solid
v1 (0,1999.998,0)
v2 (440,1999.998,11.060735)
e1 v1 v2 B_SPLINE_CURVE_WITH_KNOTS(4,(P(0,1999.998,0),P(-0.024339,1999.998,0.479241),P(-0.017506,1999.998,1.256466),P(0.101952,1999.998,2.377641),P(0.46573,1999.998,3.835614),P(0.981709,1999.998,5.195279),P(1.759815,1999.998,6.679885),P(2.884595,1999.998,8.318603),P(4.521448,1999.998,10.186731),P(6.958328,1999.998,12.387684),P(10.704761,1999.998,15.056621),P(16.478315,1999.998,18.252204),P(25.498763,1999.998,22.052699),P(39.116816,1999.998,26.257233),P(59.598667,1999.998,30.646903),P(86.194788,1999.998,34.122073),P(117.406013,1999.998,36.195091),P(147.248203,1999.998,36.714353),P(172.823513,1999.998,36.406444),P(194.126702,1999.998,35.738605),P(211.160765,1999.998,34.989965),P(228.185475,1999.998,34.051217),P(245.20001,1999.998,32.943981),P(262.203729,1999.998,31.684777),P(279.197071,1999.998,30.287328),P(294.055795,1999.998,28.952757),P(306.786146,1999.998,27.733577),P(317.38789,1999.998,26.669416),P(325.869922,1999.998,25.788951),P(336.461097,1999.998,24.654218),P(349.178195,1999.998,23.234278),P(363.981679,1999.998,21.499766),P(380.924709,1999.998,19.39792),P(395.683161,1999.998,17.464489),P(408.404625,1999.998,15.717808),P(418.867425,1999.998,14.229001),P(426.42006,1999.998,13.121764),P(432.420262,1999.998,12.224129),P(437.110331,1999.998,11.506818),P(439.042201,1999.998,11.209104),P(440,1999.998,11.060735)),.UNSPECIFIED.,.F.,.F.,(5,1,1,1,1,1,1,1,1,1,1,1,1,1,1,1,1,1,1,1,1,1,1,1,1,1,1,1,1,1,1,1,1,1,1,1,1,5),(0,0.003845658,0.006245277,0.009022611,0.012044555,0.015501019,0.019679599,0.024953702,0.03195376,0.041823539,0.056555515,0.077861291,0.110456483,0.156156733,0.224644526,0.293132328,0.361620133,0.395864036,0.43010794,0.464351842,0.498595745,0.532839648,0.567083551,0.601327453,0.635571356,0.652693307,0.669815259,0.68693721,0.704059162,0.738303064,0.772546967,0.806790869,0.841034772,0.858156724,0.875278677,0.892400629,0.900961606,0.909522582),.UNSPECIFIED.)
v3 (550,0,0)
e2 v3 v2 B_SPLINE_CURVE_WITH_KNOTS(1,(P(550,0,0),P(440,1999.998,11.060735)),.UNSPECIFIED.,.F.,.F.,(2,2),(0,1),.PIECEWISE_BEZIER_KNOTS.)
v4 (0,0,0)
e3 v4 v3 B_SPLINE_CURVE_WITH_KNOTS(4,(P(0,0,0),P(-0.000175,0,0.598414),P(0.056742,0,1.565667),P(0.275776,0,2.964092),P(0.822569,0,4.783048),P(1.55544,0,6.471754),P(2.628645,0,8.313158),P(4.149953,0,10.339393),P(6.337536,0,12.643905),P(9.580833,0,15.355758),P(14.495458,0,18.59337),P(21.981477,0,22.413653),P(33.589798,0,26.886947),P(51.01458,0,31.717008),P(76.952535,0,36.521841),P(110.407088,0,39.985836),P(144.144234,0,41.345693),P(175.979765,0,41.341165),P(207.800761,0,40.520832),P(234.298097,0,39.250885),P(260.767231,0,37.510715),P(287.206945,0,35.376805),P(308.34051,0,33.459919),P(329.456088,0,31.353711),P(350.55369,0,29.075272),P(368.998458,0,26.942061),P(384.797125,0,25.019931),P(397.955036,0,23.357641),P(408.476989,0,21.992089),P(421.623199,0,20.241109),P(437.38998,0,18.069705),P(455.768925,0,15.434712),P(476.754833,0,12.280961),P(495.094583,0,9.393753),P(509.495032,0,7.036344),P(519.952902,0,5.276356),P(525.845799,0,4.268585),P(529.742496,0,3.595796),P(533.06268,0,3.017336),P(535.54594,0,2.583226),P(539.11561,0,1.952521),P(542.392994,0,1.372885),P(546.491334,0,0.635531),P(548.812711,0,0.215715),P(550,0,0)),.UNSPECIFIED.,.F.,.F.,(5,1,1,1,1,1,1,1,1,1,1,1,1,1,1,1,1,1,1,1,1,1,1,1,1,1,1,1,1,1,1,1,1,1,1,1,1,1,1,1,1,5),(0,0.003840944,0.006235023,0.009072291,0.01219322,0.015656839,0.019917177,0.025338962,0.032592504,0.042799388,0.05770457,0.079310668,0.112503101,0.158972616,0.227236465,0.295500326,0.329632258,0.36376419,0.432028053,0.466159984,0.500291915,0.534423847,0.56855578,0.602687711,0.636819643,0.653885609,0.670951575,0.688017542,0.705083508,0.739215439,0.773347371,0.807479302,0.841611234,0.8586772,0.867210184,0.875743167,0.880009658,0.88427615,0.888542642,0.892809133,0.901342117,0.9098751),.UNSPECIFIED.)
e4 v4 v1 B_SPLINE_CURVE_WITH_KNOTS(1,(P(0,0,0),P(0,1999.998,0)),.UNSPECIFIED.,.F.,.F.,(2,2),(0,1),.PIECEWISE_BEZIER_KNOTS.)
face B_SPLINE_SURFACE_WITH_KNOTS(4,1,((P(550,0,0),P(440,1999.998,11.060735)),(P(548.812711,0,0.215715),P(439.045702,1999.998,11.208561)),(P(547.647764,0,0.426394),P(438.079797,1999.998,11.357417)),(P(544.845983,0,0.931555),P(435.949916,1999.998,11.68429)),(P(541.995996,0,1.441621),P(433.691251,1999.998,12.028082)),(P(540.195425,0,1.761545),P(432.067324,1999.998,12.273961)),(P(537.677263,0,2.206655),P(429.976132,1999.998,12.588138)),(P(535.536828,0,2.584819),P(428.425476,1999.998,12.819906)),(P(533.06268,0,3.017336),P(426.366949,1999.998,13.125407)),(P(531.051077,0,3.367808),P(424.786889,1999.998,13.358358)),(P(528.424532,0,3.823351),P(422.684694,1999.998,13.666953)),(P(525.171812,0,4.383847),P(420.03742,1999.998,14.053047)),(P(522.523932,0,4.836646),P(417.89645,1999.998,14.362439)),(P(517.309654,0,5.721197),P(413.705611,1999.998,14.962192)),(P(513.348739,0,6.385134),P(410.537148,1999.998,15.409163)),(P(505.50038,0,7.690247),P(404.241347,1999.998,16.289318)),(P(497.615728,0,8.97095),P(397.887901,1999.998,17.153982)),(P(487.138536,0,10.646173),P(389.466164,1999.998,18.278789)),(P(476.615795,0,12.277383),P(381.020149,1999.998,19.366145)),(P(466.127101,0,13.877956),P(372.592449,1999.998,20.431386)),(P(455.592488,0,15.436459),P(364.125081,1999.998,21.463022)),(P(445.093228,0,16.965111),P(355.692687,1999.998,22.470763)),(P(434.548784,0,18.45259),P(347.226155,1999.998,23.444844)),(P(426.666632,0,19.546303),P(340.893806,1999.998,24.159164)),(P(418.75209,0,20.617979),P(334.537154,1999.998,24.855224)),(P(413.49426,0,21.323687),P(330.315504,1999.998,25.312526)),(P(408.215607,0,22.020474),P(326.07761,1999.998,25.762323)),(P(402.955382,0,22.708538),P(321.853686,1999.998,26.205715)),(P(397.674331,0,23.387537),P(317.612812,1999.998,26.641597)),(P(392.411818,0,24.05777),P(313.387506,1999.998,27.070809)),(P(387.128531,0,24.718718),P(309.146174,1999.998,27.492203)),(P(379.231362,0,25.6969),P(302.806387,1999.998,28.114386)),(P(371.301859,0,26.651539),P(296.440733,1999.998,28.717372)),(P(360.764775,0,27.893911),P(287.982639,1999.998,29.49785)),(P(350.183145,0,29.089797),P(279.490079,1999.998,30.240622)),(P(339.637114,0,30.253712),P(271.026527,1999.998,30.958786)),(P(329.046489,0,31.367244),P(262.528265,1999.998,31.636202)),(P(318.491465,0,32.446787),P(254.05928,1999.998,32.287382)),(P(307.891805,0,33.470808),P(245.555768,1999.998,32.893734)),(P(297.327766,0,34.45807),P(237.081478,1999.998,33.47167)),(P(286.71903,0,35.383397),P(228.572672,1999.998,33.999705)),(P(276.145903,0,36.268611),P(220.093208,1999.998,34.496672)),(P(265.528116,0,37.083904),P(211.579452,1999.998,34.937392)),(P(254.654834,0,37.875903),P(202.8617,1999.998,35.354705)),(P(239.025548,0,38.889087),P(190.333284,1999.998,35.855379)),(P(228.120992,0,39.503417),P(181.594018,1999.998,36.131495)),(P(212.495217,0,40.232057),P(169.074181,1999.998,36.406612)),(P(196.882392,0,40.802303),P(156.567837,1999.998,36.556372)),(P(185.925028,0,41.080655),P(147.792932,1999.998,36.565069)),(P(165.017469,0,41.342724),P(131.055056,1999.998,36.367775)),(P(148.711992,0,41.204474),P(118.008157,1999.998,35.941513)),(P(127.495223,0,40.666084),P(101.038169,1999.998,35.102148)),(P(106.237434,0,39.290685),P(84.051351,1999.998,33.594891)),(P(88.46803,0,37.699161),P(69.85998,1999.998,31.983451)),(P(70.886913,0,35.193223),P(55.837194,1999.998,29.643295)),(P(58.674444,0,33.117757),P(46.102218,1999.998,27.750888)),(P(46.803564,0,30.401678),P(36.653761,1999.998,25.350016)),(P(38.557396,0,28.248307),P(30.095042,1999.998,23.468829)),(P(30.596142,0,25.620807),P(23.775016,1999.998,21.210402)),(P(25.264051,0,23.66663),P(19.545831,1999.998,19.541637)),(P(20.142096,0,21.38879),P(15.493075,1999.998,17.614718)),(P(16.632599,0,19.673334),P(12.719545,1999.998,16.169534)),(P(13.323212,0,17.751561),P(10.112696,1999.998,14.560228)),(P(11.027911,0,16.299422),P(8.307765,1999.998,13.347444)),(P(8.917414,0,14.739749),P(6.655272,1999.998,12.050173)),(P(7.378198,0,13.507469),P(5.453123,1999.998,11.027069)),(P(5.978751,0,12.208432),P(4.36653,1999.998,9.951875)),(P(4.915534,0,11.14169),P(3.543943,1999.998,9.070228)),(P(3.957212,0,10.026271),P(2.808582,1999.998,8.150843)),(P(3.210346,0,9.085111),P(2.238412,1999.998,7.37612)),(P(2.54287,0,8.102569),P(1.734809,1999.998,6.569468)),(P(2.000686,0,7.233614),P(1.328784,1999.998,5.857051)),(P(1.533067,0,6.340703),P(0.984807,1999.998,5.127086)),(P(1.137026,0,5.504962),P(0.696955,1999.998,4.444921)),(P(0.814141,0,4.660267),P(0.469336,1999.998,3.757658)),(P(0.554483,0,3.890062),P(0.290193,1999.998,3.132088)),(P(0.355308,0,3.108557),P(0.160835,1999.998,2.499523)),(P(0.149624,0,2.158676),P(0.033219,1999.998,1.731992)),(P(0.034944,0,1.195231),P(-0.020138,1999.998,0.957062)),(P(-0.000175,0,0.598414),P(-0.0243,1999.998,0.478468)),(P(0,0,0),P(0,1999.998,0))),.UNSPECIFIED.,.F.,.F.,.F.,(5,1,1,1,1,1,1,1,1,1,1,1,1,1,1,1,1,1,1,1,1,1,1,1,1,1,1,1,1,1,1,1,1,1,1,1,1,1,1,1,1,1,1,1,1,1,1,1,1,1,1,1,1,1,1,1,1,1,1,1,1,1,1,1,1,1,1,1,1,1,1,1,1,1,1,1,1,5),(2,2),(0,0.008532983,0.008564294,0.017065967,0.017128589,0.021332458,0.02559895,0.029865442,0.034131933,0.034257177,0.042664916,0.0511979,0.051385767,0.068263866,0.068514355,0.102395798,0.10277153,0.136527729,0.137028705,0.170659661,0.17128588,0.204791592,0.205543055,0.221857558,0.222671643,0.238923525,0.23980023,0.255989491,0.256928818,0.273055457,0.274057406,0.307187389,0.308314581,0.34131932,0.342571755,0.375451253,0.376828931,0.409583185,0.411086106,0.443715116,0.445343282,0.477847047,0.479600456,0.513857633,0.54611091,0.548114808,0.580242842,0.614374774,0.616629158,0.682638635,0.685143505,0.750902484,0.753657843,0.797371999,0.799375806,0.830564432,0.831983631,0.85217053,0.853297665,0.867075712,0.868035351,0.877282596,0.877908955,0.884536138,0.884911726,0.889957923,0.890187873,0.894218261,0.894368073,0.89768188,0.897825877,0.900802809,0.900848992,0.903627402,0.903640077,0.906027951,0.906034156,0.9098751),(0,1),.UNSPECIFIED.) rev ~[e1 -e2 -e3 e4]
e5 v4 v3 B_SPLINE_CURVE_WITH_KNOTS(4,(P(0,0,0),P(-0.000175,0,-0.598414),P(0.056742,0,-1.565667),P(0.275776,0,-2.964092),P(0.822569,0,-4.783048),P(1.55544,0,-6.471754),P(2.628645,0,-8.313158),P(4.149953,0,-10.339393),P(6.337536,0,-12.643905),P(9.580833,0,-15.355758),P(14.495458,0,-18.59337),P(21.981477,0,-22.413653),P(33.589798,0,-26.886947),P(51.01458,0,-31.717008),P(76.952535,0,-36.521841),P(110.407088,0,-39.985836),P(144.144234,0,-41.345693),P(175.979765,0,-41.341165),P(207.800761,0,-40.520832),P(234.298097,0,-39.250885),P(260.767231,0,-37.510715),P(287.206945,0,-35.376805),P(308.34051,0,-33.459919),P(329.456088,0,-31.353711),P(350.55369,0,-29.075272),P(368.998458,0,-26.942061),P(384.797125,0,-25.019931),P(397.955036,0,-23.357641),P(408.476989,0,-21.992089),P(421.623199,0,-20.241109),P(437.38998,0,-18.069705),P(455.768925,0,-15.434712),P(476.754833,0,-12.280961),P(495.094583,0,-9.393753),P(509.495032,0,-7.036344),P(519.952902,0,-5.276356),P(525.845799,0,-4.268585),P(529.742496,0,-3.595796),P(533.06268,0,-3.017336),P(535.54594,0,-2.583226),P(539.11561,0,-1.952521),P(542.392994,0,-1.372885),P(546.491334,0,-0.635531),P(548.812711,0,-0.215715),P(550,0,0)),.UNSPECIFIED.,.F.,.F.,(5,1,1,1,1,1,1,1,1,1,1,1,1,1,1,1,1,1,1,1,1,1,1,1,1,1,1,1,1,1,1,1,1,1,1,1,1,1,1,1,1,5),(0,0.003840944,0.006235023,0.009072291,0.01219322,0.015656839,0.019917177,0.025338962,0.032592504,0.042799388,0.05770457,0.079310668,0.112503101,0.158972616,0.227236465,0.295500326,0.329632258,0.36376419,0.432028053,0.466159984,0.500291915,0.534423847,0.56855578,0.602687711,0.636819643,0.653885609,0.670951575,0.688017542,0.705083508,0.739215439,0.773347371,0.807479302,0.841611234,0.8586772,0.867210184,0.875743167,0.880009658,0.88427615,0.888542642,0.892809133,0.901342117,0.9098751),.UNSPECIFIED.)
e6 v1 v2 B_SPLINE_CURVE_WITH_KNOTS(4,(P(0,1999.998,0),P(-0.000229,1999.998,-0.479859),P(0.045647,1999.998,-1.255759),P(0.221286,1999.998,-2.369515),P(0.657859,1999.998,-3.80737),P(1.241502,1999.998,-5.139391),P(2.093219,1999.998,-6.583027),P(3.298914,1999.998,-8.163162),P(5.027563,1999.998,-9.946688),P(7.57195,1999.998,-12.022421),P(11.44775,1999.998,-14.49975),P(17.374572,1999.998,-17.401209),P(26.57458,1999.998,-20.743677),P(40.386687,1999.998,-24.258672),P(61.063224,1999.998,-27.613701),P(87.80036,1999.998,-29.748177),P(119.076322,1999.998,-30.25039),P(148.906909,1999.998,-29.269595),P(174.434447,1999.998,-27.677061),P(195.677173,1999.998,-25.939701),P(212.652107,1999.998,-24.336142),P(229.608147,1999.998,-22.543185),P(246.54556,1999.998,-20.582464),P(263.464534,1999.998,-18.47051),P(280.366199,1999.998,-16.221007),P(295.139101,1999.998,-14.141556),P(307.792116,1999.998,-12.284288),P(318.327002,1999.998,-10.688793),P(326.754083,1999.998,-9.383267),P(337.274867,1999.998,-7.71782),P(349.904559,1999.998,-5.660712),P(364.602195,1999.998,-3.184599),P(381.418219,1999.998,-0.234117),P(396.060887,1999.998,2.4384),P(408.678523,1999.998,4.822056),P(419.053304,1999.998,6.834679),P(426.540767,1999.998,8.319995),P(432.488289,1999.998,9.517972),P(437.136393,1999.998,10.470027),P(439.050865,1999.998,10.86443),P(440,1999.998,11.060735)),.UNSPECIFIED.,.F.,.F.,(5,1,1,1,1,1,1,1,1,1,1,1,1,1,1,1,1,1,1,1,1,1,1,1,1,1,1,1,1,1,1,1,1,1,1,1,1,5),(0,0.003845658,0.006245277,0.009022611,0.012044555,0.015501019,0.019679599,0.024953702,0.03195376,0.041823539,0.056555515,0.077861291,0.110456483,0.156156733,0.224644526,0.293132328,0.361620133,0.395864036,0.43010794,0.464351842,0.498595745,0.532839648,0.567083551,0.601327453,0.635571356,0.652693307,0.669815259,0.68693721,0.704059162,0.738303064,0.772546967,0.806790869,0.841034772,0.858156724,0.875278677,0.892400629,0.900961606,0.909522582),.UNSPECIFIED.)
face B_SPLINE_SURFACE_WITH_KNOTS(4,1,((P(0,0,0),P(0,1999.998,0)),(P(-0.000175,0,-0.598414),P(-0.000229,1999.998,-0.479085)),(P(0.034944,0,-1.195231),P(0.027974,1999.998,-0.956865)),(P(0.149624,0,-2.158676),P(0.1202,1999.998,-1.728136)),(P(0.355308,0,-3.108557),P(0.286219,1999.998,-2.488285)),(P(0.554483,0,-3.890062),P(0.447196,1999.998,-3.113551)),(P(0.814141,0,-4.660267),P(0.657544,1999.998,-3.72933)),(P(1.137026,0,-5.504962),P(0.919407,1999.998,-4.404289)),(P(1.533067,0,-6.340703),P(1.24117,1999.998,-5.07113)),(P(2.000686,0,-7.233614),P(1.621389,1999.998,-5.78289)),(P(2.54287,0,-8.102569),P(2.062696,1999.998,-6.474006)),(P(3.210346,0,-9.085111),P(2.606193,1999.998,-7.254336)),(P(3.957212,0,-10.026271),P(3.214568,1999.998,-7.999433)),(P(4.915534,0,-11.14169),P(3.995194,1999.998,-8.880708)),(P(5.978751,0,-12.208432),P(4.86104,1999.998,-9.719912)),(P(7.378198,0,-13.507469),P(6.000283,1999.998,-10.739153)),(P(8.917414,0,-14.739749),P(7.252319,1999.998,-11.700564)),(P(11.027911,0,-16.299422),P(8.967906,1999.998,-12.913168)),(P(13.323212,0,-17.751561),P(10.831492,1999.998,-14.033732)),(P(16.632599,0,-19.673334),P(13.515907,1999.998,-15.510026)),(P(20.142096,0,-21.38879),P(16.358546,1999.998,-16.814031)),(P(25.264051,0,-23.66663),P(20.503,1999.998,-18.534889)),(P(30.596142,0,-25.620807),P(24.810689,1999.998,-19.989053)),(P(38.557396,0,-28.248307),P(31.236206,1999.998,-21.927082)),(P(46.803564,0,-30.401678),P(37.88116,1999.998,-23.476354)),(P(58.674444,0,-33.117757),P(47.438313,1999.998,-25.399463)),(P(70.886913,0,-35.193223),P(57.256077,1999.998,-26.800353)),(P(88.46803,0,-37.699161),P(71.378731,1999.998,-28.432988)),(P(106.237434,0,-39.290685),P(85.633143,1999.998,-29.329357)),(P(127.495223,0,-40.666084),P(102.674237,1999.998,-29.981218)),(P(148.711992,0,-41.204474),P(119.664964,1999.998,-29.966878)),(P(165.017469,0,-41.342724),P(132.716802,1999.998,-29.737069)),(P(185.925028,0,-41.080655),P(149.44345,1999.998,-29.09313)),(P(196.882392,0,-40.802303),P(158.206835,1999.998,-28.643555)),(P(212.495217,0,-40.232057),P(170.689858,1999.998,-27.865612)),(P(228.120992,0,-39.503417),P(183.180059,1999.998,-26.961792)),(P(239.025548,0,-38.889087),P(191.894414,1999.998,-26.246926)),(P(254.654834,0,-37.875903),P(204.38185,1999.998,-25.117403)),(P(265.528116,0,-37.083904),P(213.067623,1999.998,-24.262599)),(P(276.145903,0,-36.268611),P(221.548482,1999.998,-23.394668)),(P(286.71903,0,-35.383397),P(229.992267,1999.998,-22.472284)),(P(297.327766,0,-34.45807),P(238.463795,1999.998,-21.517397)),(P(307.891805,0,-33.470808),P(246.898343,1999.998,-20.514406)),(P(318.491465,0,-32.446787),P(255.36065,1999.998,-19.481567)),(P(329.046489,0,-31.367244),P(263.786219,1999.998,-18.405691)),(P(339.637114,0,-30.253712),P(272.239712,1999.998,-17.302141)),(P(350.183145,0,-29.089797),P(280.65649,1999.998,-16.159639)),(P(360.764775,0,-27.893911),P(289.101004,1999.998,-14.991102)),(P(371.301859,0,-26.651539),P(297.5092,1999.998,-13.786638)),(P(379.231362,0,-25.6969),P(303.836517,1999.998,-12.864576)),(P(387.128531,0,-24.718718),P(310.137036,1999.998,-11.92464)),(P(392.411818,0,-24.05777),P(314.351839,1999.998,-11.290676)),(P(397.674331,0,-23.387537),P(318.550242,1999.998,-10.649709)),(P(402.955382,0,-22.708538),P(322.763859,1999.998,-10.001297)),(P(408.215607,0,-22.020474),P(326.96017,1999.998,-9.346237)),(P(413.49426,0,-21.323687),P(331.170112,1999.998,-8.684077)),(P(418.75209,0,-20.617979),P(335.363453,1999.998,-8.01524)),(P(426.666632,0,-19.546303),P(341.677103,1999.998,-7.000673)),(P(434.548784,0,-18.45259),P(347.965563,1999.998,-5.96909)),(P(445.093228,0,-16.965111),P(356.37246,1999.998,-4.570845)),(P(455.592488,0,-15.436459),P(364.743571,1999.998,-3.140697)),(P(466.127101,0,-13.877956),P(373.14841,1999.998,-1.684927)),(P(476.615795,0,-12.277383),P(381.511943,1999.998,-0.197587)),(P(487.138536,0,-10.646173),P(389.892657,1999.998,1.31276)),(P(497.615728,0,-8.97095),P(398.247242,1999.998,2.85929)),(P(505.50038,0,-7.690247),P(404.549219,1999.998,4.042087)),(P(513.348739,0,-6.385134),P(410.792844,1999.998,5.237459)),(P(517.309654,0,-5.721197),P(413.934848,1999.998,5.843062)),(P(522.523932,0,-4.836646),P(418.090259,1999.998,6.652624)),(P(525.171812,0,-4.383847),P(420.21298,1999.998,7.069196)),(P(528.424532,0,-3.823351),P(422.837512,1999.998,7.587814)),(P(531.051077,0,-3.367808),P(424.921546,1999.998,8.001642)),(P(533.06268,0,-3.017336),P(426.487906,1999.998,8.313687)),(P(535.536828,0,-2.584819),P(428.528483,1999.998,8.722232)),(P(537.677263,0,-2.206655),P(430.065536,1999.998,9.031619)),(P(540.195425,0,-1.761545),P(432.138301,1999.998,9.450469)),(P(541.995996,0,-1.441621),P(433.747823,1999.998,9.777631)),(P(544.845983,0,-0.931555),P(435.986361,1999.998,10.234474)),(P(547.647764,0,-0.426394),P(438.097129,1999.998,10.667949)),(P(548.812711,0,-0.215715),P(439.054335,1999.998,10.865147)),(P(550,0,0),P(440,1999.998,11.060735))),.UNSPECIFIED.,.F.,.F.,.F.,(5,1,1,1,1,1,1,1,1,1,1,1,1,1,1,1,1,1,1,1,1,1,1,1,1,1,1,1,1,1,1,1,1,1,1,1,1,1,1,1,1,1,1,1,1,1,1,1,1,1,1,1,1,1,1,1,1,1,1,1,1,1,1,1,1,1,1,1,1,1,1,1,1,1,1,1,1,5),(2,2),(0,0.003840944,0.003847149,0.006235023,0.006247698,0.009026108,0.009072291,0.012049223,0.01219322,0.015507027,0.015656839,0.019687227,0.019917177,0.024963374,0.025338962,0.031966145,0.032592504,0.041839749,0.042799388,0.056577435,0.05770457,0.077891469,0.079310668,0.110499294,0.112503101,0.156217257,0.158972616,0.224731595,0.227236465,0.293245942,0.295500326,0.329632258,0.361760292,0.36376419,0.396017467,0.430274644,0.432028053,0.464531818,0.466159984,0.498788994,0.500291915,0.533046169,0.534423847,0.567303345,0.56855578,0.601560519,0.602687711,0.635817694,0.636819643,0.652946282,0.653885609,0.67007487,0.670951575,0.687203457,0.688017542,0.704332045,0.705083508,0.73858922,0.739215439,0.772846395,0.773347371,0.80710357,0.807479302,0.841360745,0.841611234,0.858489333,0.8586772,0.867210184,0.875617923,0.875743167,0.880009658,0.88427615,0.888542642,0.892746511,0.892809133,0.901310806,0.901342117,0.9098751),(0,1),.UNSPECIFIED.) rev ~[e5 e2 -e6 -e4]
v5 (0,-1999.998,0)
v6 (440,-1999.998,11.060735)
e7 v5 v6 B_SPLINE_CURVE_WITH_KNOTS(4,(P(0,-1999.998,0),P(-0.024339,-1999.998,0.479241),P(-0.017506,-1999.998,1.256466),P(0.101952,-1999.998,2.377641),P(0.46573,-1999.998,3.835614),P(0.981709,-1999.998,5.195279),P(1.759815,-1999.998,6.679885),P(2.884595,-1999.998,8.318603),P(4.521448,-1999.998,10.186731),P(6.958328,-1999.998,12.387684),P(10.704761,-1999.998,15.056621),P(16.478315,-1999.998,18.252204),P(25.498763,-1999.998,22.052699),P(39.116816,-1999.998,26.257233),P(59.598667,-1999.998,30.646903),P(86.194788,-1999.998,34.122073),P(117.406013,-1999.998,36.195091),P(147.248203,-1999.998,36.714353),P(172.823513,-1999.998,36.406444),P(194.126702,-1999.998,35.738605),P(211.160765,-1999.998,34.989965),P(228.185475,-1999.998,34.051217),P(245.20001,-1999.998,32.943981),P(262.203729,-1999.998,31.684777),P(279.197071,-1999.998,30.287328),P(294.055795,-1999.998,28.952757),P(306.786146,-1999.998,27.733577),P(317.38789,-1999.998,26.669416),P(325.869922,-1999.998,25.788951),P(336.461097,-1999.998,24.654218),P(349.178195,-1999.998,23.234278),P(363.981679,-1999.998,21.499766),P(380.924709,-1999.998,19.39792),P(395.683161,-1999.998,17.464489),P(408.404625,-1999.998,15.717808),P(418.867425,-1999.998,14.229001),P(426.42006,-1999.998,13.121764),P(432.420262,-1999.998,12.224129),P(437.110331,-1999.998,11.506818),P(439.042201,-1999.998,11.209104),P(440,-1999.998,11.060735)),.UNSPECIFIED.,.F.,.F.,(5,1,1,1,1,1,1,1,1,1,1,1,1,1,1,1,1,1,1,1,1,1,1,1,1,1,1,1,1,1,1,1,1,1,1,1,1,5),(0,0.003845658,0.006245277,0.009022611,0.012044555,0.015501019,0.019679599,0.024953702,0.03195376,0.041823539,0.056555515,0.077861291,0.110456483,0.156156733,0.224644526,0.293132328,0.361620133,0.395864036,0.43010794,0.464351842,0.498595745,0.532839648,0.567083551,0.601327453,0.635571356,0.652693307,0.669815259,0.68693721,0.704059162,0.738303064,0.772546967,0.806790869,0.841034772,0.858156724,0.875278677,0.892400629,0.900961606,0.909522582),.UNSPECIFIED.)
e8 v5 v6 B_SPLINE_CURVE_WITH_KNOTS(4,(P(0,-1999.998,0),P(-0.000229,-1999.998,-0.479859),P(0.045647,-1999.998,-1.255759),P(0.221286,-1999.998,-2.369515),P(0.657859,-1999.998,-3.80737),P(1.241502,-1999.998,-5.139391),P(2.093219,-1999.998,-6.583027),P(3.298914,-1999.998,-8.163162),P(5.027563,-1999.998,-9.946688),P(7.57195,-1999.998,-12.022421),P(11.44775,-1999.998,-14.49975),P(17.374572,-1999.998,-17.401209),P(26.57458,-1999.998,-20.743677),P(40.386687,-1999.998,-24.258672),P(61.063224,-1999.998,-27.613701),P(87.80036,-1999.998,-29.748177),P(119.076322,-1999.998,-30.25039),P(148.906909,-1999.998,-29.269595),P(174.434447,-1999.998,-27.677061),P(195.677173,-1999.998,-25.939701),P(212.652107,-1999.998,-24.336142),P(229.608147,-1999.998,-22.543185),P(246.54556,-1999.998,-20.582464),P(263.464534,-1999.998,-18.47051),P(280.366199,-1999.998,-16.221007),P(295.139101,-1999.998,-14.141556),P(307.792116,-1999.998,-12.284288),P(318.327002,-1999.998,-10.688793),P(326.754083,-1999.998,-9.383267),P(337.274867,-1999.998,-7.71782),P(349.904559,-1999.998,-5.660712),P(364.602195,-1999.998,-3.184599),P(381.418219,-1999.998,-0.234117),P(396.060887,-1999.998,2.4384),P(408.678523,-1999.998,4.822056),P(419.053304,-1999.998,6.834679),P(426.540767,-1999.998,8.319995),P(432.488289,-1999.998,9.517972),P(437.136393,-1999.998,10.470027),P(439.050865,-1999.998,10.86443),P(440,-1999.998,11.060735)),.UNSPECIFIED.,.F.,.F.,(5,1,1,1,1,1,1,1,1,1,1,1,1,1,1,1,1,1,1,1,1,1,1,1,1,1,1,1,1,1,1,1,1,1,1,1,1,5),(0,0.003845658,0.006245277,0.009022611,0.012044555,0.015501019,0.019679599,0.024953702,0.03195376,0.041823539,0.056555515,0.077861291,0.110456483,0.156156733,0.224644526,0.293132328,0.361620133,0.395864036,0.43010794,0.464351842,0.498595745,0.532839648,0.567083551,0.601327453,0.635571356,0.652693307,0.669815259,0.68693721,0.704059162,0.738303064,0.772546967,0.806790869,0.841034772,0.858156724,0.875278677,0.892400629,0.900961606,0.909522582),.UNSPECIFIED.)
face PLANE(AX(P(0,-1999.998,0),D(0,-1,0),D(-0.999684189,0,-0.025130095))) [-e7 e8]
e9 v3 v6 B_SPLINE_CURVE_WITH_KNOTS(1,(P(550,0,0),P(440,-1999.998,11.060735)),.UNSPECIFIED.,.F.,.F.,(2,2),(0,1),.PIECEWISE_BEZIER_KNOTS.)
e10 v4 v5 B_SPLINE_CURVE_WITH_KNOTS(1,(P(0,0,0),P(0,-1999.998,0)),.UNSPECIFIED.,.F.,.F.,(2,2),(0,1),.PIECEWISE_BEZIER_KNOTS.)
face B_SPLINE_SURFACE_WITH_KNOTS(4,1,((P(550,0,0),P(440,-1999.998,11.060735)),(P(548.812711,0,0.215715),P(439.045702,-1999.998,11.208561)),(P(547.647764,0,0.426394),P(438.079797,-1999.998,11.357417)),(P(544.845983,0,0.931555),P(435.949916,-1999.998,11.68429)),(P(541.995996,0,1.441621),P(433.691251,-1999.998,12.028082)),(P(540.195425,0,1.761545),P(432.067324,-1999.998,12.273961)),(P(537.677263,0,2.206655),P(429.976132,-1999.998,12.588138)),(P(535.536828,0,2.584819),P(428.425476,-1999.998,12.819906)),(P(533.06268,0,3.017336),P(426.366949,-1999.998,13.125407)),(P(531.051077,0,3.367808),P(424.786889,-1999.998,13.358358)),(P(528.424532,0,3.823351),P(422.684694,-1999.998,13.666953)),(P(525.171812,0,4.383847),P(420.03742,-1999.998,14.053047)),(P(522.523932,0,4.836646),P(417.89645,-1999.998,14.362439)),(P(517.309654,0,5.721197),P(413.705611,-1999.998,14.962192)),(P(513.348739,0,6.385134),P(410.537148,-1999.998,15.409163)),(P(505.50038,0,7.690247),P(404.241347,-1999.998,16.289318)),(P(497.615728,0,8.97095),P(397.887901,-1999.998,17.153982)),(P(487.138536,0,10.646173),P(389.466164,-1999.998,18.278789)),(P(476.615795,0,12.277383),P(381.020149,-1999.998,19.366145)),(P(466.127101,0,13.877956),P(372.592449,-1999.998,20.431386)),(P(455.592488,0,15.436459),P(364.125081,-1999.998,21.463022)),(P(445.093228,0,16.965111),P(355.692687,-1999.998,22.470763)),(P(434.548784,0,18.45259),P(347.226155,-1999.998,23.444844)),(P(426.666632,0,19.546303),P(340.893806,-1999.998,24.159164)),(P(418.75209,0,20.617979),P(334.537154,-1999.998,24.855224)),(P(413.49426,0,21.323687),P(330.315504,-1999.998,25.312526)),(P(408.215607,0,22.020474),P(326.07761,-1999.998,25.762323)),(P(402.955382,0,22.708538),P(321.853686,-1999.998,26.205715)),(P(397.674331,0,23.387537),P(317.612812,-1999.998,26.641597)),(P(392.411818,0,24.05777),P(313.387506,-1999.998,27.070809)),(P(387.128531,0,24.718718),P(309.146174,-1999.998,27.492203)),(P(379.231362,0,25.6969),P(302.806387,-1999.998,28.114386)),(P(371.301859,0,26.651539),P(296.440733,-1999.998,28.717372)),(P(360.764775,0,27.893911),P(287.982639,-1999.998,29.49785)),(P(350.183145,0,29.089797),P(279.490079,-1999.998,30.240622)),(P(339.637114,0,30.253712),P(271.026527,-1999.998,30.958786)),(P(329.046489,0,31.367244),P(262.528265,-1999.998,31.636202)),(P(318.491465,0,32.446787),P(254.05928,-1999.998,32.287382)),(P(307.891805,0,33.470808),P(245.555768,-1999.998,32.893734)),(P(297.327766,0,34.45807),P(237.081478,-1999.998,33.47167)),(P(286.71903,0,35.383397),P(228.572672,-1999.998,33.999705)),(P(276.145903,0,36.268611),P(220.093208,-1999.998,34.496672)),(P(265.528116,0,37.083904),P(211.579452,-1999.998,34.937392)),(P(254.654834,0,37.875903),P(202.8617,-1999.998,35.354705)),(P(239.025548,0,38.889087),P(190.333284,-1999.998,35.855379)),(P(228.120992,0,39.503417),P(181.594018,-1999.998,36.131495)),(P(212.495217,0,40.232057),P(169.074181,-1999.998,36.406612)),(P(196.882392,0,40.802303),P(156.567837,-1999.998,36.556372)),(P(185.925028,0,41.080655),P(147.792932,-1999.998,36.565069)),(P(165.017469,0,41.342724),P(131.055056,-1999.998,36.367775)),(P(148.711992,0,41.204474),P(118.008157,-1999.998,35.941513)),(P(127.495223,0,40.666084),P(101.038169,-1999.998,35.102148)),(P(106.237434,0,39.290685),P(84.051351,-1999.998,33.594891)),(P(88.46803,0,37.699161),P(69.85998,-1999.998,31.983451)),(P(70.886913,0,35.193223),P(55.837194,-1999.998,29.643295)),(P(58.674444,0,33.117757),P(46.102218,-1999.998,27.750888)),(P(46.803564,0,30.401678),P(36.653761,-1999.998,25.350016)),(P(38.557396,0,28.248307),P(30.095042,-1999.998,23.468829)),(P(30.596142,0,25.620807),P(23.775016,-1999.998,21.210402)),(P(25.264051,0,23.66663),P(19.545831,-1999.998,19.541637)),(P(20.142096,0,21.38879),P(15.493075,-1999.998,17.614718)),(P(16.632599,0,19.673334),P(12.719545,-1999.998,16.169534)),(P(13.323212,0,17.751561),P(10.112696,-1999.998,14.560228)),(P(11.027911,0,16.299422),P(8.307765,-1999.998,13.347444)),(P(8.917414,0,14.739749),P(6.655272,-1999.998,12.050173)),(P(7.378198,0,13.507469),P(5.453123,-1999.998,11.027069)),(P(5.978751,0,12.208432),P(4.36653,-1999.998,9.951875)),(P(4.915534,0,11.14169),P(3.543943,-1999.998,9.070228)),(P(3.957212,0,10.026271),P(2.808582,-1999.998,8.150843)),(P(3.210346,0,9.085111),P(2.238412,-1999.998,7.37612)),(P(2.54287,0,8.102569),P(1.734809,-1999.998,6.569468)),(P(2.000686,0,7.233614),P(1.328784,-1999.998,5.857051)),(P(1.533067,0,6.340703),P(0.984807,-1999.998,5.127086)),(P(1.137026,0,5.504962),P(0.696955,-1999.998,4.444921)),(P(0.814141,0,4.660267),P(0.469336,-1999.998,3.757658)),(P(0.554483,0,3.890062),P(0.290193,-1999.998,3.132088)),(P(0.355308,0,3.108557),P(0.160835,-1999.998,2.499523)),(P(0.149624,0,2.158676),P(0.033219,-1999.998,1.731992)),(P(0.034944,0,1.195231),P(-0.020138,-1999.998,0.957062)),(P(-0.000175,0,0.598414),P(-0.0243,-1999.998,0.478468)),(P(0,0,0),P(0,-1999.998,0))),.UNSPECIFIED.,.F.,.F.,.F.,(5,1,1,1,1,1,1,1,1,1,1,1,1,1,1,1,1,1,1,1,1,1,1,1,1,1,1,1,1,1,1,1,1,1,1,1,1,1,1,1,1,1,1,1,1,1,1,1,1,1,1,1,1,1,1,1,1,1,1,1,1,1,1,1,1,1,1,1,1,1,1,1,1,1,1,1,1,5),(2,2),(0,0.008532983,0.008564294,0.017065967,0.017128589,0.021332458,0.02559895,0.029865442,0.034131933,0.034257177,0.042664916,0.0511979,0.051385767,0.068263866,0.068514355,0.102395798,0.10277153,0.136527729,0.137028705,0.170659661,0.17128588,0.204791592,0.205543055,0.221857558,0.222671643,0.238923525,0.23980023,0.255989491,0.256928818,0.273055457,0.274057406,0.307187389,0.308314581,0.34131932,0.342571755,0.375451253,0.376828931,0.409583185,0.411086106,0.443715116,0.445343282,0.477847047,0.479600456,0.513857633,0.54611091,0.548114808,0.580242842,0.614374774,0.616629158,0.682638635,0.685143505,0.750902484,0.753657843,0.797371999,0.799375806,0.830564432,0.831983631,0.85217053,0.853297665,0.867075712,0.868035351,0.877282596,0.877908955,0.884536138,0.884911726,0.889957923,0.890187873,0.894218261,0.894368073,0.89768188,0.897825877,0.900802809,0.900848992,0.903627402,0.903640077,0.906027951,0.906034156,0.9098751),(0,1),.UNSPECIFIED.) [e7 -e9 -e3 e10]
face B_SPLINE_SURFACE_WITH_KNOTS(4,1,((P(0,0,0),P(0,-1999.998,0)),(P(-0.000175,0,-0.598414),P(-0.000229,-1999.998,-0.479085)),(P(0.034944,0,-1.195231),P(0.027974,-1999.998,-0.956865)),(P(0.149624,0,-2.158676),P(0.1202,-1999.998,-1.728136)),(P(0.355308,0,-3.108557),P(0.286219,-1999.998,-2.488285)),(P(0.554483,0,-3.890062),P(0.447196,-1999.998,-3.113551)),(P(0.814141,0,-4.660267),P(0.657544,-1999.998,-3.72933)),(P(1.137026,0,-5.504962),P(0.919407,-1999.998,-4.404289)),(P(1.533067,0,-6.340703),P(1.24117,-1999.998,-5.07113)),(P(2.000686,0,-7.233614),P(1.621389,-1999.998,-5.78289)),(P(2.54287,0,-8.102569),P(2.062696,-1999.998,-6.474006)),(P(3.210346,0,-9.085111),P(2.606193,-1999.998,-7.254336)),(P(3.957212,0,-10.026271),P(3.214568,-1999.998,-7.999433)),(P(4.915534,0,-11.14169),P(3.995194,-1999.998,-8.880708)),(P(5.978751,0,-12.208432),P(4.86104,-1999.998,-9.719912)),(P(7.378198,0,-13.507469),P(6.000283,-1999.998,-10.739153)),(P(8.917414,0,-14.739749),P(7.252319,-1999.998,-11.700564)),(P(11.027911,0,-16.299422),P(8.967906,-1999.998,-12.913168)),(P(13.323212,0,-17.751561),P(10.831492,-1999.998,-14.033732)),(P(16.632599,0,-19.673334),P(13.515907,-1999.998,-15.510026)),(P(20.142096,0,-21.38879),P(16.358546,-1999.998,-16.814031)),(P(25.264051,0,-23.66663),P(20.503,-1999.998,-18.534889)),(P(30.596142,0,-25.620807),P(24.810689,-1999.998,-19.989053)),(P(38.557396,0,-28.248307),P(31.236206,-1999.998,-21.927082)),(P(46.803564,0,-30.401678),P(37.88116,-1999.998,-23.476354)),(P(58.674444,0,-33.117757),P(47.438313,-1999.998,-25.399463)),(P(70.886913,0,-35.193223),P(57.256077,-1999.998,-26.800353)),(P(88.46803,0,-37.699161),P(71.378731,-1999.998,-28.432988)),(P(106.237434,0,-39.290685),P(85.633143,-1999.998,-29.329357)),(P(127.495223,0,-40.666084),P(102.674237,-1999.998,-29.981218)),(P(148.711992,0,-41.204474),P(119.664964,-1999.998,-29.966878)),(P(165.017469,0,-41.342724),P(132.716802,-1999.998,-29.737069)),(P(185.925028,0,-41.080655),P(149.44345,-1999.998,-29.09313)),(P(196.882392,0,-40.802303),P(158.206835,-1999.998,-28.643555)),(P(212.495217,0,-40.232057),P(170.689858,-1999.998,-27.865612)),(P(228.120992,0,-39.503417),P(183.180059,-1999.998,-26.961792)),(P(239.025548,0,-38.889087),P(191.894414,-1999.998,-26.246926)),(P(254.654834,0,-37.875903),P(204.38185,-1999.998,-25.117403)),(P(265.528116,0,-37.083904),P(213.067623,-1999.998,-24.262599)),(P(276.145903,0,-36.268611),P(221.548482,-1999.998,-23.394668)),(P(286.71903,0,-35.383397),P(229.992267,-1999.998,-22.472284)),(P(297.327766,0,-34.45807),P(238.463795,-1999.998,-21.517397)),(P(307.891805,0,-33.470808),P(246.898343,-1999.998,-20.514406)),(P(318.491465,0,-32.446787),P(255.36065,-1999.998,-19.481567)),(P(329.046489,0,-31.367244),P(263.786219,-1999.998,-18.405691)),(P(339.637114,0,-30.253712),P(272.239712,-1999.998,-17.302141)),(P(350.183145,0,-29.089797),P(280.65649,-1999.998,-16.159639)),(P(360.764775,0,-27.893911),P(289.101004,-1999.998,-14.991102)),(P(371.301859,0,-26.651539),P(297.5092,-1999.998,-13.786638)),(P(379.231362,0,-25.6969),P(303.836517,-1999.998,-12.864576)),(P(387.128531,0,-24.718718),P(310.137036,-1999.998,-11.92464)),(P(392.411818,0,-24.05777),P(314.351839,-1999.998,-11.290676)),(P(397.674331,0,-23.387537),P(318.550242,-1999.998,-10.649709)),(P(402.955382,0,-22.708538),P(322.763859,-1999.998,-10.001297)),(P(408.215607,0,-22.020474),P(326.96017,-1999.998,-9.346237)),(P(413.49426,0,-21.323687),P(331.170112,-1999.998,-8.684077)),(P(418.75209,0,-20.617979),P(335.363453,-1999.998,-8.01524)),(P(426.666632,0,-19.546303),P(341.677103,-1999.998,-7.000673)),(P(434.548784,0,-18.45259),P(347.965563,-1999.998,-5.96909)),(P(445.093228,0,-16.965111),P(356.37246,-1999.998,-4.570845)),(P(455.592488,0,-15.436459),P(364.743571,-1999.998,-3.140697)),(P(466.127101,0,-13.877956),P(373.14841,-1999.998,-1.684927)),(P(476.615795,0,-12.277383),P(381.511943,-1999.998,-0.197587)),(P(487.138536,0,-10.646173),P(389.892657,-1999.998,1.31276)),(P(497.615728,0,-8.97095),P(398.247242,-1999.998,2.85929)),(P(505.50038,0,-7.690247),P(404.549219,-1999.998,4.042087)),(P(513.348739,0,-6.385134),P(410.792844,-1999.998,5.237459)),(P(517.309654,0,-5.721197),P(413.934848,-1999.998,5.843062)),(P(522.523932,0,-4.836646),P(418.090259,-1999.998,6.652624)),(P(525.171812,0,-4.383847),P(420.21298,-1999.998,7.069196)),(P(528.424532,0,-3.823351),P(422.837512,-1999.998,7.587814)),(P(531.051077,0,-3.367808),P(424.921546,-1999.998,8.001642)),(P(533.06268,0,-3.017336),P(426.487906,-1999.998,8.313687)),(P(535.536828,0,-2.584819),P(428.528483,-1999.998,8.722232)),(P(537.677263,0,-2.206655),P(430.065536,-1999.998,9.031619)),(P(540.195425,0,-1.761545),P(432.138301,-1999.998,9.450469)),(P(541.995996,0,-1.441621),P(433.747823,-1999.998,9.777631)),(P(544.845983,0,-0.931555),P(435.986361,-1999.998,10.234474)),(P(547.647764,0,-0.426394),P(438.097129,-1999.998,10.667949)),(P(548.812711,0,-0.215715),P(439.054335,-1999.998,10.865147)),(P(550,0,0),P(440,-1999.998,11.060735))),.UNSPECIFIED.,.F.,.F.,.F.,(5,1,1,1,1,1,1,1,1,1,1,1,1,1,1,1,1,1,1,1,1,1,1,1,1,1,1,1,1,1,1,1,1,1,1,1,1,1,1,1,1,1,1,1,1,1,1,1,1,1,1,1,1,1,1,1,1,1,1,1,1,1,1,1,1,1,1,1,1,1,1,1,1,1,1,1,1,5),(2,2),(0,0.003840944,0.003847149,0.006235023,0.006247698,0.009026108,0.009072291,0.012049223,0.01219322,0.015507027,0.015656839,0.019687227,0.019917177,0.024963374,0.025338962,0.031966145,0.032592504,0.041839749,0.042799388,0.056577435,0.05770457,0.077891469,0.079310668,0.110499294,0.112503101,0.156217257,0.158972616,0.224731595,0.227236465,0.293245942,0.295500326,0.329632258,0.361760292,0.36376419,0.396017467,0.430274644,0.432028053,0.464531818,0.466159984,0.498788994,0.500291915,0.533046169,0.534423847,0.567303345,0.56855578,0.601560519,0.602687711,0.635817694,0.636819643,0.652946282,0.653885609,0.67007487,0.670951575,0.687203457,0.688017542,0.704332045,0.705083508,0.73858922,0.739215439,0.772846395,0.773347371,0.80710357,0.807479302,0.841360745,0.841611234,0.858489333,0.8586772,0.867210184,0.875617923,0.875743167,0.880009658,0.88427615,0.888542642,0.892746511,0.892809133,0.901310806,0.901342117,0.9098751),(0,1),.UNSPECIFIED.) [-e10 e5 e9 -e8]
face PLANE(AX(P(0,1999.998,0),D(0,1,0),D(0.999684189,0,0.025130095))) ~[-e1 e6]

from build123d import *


with BuildPart() as part:
    # rootSketch → Loft1 section 0
    with BuildSketch(Plane(origin=(0, 0, 0), x_dir=(1, 0, 0), z_dir=(0, 1, 0))):
        with BuildLine():
            add(Edge.make_bspline(
                [(0, 0), (-0.000175064, 0.598414419), (0.05674218, 1.565666705), (0.275775876, 2.964091734), (0.822569463, 4.783047556), (1.555439608, 6.471754067), (2.628644933, 8.313158319), (4.149953111, 10.339392549), (6.337536022, 12.643904837), (9.58083252, 15.355757519), (14.495457526, 18.593370314), (21.981477178, 22.413652887), (33.589797591, 26.886946537), (51.014579668, 31.717007882), (76.952534748, 36.521841199), (110.407088273, 39.985836425), (144.144234157, 41.345693361), (175.979765102, 41.341164519), (207.800761075, 40.520831926), (234.298096736, 39.25088481), (260.767230587, 37.510714556), (287.206944997, 35.37680477), (308.340510089, 33.459919147), (329.456088108, 31.353710721), (350.553689705, 29.075271999), (368.998458414, 26.942061245), (384.797125332, 25.019930558), (397.95503649, 23.357640829), (408.476988762, 21.992088906), (421.623198519, 20.241108533), (437.38998035, 18.06970481), (455.76892534, 15.434711532), (476.754832722, 12.280961423), (495.094583008, 9.393753263), (509.495031881, 7.036344093), (519.952902261, 5.27635633), (525.845799056, 4.268584971), (529.742495971, 3.595795898), (533.062680296, 3.017336431), (535.545940255, 2.58322589), (539.115610217, 1.952521224), (542.392994029, 1.372884855), (546.49133396, 0.635531428), (548.812711406, 0.215715496), (550, 0)],
                knots=[0, 0, 0, 0, 0, 0.003840944, 0.006235023, 0.009072291, 0.01219322, 0.015656839, 0.019917177, 0.025338962, 0.032592504, 0.042799388, 0.05770457, 0.079310668, 0.112503101, 0.158972616, 0.227236465, 0.295500326, 0.329632258, 0.36376419, 0.432028053, 0.466159984, 0.500291915, 0.534423847, 0.56855578, 0.602687711, 0.636819643, 0.653885609, 0.670951575, 0.688017542, 0.705083508, 0.739215439, 0.773347371, 0.807479302, 0.841611234, 0.8586772, 0.867210184, 0.875743167, 0.880009658, 0.88427615, 0.888542642, 0.892809133, 0.901342117, 0.9098751, 0.9098751, 0.9098751, 0.9098751, 0.9098751], degree=4))
            add(Edge.make_bspline(
                [(0, 0), (-0.000175064, -0.598414419), (0.05674218, -1.565666705), (0.275775876, -2.964091734), (0.822569463, -4.783047556), (1.555439608, -6.471754067), (2.628644933, -8.313158319), (4.149953111, -10.339392549), (6.337536022, -12.643904837), (9.58083252, -15.355757519), (14.495457526, -18.593370314), (21.981477178, -22.413652887), (33.589797591, -26.886946537), (51.014579668, -31.717007882), (76.952534748, -36.521841199), (110.407088273, -39.985836425), (144.144234157, -41.345693361), (175.979765102, -41.341164519), (207.800761075, -40.520831926), (234.298096736, -39.25088481), (260.767230587, -37.510714556), (287.206944997, -35.37680477), (308.340510089, -33.459919147), (329.456088108, -31.353710721), (350.553689705, -29.075271999), (368.998458414, -26.942061245), (384.797125332, -25.019930558), (397.95503649, -23.357640829), (408.476988762, -21.992088906), (421.623198519, -20.241108533), (437.38998035, -18.06970481), (455.76892534, -15.434711532), (476.754832722, -12.280961423), (495.094583008, -9.393753263), (509.495031881, -7.036344093), (519.952902261, -5.27635633), (525.845799056, -4.268584971), (529.742495971, -3.595795898), (533.062680296, -3.017336431), (535.545940255, -2.58322589), (539.115610217, -1.952521224), (542.392994029, -1.372884855), (546.49133396, -0.635531428), (548.812711406, -0.215715496), (550, 0)],
                knots=[0, 0, 0, 0, 0, 0.003840944, 0.006235023, 0.009072291, 0.01219322, 0.015656839, 0.019917177, 0.025338962, 0.032592504, 0.042799388, 0.05770457, 0.079310668, 0.112503101, 0.158972616, 0.227236465, 0.295500326, 0.329632258, 0.36376419, 0.432028053, 0.466159984, 0.500291915, 0.534423847, 0.56855578, 0.602687711, 0.636819643, 0.653885609, 0.670951575, 0.688017542, 0.705083508, 0.739215439, 0.773347371, 0.807479302, 0.841611234, 0.8586772, 0.867210184, 0.875743167, 0.880009658, 0.88427615, 0.888542642, 0.892809133, 0.901342117, 0.9098751, 0.9098751, 0.9098751, 0.9098751, 0.9098751], degree=4))
        make_face()
    # tipSketch → Loft1 section 1
    with BuildSketch(Plane(origin=(0, 1999.998, 0), x_dir=(1, 0, 0), z_dir=(0, 1, 0))):
        with BuildLine():
            add(Edge.make_bspline(
                [(0, 0), (-0.000228899, 0.479858813), (0.04564675, 1.255758568), (0.221286007, 2.369515366), (0.657859126, 3.807369511), (1.241502178, 5.13939147), (2.093218808, 6.583027149), (3.298914243, 8.163161741), (5.027562614, 9.946687533), (7.571949858, 12.022421318), (11.447749672, 14.499750429), (17.374572049, 17.401208883), (26.574579565, 20.743677375), (40.386686858, 24.258671538), (61.063223567, 27.613700645), (87.800360237, 29.748176945), (119.076321904, 30.250390351), (148.906909434, 29.269595165), (174.434446657, 27.677061275), (195.677173308, 25.939701393), (212.6521066, 24.336142386), (229.608147224, 22.543185115), (246.545559682, 20.582463832), (263.464534024, 18.47051028), (280.366199386, 16.221007081), (295.139101355, 14.141555824), (307.792116436, 12.284287592), (318.327001948, 10.688793047), (326.754082575, 9.383266749), (337.274866736, 7.717820024), (349.904558573, 5.660712181), (364.602195307, 3.184599276), (381.418219444, 0.234116982), (396.06088703, -2.438399607), (408.678523167, -4.82205648), (419.053303631, -6.834679209), (426.540766916, -8.319994598), (432.488289171, -9.517971541), (437.136393407, -10.470026519), (439.050865014, -10.864429743), (440, -11.060735094)],
                knots=[0, 0, 0, 0, 0, 0.003845658, 0.006245277, 0.009022611, 0.012044555, 0.015501019, 0.019679599, 0.024953702, 0.03195376, 0.041823539, 0.056555515, 0.077861291, 0.110456483, 0.156156733, 0.224644526, 0.293132328, 0.361620133, 0.395864036, 0.43010794, 0.464351842, 0.498595745, 0.532839648, 0.567083551, 0.601327453, 0.635571356, 0.652693307, 0.669815259, 0.68693721, 0.704059162, 0.738303064, 0.772546967, 0.806790869, 0.841034772, 0.858156724, 0.875278677, 0.892400629, 0.900961606, 0.909522582, 0.909522582, 0.909522582, 0.909522582, 0.909522582], degree=4))
            add(Edge.make_bspline(
                [(0, 0), (-0.024338788, -0.47924123), (-0.017505637, -1.25646598), (0.101951829, -2.37764093), (0.465729536, -3.835614322), (0.981708887, -5.195278626), (1.759815271, -6.679884851), (2.884595075, -8.318603011), (4.521448051, -10.18673089), (6.958327794, -12.387683936), (10.704760594, -15.056620992), (16.478315334, -18.252203927), (25.498762791, -22.052698842), (39.116816309, -26.257233328), (59.598666505, -30.646903377), (86.194787704, -34.122072943), (117.406013104, -36.1950914), (147.248202694, -36.714352533), (172.823513308, -36.406443785), (194.126701937, -35.738604581), (211.16076488, -34.989964887), (228.185475205, -34.0512169), (245.20001008, -32.943980833), (262.203728689, -31.6847771), (279.197071269, -30.287327774), (294.055795032, -28.952757341), (306.786145982, -27.733577035), (317.387890012, -26.669415808), (325.869922149, -25.788951368), (336.461097339, -24.654217801), (349.178195308, -23.23427843), (363.981678893, -21.499765699), (380.924708633, -19.39791966), (395.683160669, -17.464489425), (408.404625398, -15.717807738), (418.867424921, -14.229000809), (426.420059874, -13.121763926), (432.420261685, -12.224129281), (437.110330517, -11.506817617), (439.042200585, -11.209103862), (440, -11.060735094)],
                knots=[0, 0, 0, 0, 0, 0.003845658, 0.006245277, 0.009022611, 0.012044555, 0.015501019, 0.019679599, 0.024953702, 0.03195376, 0.041823539, 0.056555515, 0.077861291, 0.110456483, 0.156156733, 0.224644526, 0.293132328, 0.361620133, 0.395864036, 0.43010794, 0.464351842, 0.498595745, 0.532839648, 0.567083551, 0.601327453, 0.635571356, 0.652693307, 0.669815259, 0.68693721, 0.704059162, 0.738303064, 0.772546967, 0.806790869, 0.841034772, 0.858156724, 0.875278677, 0.892400629, 0.900961606, 0.909522582, 0.909522582, 0.909522582, 0.909522582, 0.909522582], degree=4))
        make_face()
    loft1 = loft()

    # Mirror1: Loft1 across plane
    add(loft1.mirror(Plane.ZX))


solid = part.part
